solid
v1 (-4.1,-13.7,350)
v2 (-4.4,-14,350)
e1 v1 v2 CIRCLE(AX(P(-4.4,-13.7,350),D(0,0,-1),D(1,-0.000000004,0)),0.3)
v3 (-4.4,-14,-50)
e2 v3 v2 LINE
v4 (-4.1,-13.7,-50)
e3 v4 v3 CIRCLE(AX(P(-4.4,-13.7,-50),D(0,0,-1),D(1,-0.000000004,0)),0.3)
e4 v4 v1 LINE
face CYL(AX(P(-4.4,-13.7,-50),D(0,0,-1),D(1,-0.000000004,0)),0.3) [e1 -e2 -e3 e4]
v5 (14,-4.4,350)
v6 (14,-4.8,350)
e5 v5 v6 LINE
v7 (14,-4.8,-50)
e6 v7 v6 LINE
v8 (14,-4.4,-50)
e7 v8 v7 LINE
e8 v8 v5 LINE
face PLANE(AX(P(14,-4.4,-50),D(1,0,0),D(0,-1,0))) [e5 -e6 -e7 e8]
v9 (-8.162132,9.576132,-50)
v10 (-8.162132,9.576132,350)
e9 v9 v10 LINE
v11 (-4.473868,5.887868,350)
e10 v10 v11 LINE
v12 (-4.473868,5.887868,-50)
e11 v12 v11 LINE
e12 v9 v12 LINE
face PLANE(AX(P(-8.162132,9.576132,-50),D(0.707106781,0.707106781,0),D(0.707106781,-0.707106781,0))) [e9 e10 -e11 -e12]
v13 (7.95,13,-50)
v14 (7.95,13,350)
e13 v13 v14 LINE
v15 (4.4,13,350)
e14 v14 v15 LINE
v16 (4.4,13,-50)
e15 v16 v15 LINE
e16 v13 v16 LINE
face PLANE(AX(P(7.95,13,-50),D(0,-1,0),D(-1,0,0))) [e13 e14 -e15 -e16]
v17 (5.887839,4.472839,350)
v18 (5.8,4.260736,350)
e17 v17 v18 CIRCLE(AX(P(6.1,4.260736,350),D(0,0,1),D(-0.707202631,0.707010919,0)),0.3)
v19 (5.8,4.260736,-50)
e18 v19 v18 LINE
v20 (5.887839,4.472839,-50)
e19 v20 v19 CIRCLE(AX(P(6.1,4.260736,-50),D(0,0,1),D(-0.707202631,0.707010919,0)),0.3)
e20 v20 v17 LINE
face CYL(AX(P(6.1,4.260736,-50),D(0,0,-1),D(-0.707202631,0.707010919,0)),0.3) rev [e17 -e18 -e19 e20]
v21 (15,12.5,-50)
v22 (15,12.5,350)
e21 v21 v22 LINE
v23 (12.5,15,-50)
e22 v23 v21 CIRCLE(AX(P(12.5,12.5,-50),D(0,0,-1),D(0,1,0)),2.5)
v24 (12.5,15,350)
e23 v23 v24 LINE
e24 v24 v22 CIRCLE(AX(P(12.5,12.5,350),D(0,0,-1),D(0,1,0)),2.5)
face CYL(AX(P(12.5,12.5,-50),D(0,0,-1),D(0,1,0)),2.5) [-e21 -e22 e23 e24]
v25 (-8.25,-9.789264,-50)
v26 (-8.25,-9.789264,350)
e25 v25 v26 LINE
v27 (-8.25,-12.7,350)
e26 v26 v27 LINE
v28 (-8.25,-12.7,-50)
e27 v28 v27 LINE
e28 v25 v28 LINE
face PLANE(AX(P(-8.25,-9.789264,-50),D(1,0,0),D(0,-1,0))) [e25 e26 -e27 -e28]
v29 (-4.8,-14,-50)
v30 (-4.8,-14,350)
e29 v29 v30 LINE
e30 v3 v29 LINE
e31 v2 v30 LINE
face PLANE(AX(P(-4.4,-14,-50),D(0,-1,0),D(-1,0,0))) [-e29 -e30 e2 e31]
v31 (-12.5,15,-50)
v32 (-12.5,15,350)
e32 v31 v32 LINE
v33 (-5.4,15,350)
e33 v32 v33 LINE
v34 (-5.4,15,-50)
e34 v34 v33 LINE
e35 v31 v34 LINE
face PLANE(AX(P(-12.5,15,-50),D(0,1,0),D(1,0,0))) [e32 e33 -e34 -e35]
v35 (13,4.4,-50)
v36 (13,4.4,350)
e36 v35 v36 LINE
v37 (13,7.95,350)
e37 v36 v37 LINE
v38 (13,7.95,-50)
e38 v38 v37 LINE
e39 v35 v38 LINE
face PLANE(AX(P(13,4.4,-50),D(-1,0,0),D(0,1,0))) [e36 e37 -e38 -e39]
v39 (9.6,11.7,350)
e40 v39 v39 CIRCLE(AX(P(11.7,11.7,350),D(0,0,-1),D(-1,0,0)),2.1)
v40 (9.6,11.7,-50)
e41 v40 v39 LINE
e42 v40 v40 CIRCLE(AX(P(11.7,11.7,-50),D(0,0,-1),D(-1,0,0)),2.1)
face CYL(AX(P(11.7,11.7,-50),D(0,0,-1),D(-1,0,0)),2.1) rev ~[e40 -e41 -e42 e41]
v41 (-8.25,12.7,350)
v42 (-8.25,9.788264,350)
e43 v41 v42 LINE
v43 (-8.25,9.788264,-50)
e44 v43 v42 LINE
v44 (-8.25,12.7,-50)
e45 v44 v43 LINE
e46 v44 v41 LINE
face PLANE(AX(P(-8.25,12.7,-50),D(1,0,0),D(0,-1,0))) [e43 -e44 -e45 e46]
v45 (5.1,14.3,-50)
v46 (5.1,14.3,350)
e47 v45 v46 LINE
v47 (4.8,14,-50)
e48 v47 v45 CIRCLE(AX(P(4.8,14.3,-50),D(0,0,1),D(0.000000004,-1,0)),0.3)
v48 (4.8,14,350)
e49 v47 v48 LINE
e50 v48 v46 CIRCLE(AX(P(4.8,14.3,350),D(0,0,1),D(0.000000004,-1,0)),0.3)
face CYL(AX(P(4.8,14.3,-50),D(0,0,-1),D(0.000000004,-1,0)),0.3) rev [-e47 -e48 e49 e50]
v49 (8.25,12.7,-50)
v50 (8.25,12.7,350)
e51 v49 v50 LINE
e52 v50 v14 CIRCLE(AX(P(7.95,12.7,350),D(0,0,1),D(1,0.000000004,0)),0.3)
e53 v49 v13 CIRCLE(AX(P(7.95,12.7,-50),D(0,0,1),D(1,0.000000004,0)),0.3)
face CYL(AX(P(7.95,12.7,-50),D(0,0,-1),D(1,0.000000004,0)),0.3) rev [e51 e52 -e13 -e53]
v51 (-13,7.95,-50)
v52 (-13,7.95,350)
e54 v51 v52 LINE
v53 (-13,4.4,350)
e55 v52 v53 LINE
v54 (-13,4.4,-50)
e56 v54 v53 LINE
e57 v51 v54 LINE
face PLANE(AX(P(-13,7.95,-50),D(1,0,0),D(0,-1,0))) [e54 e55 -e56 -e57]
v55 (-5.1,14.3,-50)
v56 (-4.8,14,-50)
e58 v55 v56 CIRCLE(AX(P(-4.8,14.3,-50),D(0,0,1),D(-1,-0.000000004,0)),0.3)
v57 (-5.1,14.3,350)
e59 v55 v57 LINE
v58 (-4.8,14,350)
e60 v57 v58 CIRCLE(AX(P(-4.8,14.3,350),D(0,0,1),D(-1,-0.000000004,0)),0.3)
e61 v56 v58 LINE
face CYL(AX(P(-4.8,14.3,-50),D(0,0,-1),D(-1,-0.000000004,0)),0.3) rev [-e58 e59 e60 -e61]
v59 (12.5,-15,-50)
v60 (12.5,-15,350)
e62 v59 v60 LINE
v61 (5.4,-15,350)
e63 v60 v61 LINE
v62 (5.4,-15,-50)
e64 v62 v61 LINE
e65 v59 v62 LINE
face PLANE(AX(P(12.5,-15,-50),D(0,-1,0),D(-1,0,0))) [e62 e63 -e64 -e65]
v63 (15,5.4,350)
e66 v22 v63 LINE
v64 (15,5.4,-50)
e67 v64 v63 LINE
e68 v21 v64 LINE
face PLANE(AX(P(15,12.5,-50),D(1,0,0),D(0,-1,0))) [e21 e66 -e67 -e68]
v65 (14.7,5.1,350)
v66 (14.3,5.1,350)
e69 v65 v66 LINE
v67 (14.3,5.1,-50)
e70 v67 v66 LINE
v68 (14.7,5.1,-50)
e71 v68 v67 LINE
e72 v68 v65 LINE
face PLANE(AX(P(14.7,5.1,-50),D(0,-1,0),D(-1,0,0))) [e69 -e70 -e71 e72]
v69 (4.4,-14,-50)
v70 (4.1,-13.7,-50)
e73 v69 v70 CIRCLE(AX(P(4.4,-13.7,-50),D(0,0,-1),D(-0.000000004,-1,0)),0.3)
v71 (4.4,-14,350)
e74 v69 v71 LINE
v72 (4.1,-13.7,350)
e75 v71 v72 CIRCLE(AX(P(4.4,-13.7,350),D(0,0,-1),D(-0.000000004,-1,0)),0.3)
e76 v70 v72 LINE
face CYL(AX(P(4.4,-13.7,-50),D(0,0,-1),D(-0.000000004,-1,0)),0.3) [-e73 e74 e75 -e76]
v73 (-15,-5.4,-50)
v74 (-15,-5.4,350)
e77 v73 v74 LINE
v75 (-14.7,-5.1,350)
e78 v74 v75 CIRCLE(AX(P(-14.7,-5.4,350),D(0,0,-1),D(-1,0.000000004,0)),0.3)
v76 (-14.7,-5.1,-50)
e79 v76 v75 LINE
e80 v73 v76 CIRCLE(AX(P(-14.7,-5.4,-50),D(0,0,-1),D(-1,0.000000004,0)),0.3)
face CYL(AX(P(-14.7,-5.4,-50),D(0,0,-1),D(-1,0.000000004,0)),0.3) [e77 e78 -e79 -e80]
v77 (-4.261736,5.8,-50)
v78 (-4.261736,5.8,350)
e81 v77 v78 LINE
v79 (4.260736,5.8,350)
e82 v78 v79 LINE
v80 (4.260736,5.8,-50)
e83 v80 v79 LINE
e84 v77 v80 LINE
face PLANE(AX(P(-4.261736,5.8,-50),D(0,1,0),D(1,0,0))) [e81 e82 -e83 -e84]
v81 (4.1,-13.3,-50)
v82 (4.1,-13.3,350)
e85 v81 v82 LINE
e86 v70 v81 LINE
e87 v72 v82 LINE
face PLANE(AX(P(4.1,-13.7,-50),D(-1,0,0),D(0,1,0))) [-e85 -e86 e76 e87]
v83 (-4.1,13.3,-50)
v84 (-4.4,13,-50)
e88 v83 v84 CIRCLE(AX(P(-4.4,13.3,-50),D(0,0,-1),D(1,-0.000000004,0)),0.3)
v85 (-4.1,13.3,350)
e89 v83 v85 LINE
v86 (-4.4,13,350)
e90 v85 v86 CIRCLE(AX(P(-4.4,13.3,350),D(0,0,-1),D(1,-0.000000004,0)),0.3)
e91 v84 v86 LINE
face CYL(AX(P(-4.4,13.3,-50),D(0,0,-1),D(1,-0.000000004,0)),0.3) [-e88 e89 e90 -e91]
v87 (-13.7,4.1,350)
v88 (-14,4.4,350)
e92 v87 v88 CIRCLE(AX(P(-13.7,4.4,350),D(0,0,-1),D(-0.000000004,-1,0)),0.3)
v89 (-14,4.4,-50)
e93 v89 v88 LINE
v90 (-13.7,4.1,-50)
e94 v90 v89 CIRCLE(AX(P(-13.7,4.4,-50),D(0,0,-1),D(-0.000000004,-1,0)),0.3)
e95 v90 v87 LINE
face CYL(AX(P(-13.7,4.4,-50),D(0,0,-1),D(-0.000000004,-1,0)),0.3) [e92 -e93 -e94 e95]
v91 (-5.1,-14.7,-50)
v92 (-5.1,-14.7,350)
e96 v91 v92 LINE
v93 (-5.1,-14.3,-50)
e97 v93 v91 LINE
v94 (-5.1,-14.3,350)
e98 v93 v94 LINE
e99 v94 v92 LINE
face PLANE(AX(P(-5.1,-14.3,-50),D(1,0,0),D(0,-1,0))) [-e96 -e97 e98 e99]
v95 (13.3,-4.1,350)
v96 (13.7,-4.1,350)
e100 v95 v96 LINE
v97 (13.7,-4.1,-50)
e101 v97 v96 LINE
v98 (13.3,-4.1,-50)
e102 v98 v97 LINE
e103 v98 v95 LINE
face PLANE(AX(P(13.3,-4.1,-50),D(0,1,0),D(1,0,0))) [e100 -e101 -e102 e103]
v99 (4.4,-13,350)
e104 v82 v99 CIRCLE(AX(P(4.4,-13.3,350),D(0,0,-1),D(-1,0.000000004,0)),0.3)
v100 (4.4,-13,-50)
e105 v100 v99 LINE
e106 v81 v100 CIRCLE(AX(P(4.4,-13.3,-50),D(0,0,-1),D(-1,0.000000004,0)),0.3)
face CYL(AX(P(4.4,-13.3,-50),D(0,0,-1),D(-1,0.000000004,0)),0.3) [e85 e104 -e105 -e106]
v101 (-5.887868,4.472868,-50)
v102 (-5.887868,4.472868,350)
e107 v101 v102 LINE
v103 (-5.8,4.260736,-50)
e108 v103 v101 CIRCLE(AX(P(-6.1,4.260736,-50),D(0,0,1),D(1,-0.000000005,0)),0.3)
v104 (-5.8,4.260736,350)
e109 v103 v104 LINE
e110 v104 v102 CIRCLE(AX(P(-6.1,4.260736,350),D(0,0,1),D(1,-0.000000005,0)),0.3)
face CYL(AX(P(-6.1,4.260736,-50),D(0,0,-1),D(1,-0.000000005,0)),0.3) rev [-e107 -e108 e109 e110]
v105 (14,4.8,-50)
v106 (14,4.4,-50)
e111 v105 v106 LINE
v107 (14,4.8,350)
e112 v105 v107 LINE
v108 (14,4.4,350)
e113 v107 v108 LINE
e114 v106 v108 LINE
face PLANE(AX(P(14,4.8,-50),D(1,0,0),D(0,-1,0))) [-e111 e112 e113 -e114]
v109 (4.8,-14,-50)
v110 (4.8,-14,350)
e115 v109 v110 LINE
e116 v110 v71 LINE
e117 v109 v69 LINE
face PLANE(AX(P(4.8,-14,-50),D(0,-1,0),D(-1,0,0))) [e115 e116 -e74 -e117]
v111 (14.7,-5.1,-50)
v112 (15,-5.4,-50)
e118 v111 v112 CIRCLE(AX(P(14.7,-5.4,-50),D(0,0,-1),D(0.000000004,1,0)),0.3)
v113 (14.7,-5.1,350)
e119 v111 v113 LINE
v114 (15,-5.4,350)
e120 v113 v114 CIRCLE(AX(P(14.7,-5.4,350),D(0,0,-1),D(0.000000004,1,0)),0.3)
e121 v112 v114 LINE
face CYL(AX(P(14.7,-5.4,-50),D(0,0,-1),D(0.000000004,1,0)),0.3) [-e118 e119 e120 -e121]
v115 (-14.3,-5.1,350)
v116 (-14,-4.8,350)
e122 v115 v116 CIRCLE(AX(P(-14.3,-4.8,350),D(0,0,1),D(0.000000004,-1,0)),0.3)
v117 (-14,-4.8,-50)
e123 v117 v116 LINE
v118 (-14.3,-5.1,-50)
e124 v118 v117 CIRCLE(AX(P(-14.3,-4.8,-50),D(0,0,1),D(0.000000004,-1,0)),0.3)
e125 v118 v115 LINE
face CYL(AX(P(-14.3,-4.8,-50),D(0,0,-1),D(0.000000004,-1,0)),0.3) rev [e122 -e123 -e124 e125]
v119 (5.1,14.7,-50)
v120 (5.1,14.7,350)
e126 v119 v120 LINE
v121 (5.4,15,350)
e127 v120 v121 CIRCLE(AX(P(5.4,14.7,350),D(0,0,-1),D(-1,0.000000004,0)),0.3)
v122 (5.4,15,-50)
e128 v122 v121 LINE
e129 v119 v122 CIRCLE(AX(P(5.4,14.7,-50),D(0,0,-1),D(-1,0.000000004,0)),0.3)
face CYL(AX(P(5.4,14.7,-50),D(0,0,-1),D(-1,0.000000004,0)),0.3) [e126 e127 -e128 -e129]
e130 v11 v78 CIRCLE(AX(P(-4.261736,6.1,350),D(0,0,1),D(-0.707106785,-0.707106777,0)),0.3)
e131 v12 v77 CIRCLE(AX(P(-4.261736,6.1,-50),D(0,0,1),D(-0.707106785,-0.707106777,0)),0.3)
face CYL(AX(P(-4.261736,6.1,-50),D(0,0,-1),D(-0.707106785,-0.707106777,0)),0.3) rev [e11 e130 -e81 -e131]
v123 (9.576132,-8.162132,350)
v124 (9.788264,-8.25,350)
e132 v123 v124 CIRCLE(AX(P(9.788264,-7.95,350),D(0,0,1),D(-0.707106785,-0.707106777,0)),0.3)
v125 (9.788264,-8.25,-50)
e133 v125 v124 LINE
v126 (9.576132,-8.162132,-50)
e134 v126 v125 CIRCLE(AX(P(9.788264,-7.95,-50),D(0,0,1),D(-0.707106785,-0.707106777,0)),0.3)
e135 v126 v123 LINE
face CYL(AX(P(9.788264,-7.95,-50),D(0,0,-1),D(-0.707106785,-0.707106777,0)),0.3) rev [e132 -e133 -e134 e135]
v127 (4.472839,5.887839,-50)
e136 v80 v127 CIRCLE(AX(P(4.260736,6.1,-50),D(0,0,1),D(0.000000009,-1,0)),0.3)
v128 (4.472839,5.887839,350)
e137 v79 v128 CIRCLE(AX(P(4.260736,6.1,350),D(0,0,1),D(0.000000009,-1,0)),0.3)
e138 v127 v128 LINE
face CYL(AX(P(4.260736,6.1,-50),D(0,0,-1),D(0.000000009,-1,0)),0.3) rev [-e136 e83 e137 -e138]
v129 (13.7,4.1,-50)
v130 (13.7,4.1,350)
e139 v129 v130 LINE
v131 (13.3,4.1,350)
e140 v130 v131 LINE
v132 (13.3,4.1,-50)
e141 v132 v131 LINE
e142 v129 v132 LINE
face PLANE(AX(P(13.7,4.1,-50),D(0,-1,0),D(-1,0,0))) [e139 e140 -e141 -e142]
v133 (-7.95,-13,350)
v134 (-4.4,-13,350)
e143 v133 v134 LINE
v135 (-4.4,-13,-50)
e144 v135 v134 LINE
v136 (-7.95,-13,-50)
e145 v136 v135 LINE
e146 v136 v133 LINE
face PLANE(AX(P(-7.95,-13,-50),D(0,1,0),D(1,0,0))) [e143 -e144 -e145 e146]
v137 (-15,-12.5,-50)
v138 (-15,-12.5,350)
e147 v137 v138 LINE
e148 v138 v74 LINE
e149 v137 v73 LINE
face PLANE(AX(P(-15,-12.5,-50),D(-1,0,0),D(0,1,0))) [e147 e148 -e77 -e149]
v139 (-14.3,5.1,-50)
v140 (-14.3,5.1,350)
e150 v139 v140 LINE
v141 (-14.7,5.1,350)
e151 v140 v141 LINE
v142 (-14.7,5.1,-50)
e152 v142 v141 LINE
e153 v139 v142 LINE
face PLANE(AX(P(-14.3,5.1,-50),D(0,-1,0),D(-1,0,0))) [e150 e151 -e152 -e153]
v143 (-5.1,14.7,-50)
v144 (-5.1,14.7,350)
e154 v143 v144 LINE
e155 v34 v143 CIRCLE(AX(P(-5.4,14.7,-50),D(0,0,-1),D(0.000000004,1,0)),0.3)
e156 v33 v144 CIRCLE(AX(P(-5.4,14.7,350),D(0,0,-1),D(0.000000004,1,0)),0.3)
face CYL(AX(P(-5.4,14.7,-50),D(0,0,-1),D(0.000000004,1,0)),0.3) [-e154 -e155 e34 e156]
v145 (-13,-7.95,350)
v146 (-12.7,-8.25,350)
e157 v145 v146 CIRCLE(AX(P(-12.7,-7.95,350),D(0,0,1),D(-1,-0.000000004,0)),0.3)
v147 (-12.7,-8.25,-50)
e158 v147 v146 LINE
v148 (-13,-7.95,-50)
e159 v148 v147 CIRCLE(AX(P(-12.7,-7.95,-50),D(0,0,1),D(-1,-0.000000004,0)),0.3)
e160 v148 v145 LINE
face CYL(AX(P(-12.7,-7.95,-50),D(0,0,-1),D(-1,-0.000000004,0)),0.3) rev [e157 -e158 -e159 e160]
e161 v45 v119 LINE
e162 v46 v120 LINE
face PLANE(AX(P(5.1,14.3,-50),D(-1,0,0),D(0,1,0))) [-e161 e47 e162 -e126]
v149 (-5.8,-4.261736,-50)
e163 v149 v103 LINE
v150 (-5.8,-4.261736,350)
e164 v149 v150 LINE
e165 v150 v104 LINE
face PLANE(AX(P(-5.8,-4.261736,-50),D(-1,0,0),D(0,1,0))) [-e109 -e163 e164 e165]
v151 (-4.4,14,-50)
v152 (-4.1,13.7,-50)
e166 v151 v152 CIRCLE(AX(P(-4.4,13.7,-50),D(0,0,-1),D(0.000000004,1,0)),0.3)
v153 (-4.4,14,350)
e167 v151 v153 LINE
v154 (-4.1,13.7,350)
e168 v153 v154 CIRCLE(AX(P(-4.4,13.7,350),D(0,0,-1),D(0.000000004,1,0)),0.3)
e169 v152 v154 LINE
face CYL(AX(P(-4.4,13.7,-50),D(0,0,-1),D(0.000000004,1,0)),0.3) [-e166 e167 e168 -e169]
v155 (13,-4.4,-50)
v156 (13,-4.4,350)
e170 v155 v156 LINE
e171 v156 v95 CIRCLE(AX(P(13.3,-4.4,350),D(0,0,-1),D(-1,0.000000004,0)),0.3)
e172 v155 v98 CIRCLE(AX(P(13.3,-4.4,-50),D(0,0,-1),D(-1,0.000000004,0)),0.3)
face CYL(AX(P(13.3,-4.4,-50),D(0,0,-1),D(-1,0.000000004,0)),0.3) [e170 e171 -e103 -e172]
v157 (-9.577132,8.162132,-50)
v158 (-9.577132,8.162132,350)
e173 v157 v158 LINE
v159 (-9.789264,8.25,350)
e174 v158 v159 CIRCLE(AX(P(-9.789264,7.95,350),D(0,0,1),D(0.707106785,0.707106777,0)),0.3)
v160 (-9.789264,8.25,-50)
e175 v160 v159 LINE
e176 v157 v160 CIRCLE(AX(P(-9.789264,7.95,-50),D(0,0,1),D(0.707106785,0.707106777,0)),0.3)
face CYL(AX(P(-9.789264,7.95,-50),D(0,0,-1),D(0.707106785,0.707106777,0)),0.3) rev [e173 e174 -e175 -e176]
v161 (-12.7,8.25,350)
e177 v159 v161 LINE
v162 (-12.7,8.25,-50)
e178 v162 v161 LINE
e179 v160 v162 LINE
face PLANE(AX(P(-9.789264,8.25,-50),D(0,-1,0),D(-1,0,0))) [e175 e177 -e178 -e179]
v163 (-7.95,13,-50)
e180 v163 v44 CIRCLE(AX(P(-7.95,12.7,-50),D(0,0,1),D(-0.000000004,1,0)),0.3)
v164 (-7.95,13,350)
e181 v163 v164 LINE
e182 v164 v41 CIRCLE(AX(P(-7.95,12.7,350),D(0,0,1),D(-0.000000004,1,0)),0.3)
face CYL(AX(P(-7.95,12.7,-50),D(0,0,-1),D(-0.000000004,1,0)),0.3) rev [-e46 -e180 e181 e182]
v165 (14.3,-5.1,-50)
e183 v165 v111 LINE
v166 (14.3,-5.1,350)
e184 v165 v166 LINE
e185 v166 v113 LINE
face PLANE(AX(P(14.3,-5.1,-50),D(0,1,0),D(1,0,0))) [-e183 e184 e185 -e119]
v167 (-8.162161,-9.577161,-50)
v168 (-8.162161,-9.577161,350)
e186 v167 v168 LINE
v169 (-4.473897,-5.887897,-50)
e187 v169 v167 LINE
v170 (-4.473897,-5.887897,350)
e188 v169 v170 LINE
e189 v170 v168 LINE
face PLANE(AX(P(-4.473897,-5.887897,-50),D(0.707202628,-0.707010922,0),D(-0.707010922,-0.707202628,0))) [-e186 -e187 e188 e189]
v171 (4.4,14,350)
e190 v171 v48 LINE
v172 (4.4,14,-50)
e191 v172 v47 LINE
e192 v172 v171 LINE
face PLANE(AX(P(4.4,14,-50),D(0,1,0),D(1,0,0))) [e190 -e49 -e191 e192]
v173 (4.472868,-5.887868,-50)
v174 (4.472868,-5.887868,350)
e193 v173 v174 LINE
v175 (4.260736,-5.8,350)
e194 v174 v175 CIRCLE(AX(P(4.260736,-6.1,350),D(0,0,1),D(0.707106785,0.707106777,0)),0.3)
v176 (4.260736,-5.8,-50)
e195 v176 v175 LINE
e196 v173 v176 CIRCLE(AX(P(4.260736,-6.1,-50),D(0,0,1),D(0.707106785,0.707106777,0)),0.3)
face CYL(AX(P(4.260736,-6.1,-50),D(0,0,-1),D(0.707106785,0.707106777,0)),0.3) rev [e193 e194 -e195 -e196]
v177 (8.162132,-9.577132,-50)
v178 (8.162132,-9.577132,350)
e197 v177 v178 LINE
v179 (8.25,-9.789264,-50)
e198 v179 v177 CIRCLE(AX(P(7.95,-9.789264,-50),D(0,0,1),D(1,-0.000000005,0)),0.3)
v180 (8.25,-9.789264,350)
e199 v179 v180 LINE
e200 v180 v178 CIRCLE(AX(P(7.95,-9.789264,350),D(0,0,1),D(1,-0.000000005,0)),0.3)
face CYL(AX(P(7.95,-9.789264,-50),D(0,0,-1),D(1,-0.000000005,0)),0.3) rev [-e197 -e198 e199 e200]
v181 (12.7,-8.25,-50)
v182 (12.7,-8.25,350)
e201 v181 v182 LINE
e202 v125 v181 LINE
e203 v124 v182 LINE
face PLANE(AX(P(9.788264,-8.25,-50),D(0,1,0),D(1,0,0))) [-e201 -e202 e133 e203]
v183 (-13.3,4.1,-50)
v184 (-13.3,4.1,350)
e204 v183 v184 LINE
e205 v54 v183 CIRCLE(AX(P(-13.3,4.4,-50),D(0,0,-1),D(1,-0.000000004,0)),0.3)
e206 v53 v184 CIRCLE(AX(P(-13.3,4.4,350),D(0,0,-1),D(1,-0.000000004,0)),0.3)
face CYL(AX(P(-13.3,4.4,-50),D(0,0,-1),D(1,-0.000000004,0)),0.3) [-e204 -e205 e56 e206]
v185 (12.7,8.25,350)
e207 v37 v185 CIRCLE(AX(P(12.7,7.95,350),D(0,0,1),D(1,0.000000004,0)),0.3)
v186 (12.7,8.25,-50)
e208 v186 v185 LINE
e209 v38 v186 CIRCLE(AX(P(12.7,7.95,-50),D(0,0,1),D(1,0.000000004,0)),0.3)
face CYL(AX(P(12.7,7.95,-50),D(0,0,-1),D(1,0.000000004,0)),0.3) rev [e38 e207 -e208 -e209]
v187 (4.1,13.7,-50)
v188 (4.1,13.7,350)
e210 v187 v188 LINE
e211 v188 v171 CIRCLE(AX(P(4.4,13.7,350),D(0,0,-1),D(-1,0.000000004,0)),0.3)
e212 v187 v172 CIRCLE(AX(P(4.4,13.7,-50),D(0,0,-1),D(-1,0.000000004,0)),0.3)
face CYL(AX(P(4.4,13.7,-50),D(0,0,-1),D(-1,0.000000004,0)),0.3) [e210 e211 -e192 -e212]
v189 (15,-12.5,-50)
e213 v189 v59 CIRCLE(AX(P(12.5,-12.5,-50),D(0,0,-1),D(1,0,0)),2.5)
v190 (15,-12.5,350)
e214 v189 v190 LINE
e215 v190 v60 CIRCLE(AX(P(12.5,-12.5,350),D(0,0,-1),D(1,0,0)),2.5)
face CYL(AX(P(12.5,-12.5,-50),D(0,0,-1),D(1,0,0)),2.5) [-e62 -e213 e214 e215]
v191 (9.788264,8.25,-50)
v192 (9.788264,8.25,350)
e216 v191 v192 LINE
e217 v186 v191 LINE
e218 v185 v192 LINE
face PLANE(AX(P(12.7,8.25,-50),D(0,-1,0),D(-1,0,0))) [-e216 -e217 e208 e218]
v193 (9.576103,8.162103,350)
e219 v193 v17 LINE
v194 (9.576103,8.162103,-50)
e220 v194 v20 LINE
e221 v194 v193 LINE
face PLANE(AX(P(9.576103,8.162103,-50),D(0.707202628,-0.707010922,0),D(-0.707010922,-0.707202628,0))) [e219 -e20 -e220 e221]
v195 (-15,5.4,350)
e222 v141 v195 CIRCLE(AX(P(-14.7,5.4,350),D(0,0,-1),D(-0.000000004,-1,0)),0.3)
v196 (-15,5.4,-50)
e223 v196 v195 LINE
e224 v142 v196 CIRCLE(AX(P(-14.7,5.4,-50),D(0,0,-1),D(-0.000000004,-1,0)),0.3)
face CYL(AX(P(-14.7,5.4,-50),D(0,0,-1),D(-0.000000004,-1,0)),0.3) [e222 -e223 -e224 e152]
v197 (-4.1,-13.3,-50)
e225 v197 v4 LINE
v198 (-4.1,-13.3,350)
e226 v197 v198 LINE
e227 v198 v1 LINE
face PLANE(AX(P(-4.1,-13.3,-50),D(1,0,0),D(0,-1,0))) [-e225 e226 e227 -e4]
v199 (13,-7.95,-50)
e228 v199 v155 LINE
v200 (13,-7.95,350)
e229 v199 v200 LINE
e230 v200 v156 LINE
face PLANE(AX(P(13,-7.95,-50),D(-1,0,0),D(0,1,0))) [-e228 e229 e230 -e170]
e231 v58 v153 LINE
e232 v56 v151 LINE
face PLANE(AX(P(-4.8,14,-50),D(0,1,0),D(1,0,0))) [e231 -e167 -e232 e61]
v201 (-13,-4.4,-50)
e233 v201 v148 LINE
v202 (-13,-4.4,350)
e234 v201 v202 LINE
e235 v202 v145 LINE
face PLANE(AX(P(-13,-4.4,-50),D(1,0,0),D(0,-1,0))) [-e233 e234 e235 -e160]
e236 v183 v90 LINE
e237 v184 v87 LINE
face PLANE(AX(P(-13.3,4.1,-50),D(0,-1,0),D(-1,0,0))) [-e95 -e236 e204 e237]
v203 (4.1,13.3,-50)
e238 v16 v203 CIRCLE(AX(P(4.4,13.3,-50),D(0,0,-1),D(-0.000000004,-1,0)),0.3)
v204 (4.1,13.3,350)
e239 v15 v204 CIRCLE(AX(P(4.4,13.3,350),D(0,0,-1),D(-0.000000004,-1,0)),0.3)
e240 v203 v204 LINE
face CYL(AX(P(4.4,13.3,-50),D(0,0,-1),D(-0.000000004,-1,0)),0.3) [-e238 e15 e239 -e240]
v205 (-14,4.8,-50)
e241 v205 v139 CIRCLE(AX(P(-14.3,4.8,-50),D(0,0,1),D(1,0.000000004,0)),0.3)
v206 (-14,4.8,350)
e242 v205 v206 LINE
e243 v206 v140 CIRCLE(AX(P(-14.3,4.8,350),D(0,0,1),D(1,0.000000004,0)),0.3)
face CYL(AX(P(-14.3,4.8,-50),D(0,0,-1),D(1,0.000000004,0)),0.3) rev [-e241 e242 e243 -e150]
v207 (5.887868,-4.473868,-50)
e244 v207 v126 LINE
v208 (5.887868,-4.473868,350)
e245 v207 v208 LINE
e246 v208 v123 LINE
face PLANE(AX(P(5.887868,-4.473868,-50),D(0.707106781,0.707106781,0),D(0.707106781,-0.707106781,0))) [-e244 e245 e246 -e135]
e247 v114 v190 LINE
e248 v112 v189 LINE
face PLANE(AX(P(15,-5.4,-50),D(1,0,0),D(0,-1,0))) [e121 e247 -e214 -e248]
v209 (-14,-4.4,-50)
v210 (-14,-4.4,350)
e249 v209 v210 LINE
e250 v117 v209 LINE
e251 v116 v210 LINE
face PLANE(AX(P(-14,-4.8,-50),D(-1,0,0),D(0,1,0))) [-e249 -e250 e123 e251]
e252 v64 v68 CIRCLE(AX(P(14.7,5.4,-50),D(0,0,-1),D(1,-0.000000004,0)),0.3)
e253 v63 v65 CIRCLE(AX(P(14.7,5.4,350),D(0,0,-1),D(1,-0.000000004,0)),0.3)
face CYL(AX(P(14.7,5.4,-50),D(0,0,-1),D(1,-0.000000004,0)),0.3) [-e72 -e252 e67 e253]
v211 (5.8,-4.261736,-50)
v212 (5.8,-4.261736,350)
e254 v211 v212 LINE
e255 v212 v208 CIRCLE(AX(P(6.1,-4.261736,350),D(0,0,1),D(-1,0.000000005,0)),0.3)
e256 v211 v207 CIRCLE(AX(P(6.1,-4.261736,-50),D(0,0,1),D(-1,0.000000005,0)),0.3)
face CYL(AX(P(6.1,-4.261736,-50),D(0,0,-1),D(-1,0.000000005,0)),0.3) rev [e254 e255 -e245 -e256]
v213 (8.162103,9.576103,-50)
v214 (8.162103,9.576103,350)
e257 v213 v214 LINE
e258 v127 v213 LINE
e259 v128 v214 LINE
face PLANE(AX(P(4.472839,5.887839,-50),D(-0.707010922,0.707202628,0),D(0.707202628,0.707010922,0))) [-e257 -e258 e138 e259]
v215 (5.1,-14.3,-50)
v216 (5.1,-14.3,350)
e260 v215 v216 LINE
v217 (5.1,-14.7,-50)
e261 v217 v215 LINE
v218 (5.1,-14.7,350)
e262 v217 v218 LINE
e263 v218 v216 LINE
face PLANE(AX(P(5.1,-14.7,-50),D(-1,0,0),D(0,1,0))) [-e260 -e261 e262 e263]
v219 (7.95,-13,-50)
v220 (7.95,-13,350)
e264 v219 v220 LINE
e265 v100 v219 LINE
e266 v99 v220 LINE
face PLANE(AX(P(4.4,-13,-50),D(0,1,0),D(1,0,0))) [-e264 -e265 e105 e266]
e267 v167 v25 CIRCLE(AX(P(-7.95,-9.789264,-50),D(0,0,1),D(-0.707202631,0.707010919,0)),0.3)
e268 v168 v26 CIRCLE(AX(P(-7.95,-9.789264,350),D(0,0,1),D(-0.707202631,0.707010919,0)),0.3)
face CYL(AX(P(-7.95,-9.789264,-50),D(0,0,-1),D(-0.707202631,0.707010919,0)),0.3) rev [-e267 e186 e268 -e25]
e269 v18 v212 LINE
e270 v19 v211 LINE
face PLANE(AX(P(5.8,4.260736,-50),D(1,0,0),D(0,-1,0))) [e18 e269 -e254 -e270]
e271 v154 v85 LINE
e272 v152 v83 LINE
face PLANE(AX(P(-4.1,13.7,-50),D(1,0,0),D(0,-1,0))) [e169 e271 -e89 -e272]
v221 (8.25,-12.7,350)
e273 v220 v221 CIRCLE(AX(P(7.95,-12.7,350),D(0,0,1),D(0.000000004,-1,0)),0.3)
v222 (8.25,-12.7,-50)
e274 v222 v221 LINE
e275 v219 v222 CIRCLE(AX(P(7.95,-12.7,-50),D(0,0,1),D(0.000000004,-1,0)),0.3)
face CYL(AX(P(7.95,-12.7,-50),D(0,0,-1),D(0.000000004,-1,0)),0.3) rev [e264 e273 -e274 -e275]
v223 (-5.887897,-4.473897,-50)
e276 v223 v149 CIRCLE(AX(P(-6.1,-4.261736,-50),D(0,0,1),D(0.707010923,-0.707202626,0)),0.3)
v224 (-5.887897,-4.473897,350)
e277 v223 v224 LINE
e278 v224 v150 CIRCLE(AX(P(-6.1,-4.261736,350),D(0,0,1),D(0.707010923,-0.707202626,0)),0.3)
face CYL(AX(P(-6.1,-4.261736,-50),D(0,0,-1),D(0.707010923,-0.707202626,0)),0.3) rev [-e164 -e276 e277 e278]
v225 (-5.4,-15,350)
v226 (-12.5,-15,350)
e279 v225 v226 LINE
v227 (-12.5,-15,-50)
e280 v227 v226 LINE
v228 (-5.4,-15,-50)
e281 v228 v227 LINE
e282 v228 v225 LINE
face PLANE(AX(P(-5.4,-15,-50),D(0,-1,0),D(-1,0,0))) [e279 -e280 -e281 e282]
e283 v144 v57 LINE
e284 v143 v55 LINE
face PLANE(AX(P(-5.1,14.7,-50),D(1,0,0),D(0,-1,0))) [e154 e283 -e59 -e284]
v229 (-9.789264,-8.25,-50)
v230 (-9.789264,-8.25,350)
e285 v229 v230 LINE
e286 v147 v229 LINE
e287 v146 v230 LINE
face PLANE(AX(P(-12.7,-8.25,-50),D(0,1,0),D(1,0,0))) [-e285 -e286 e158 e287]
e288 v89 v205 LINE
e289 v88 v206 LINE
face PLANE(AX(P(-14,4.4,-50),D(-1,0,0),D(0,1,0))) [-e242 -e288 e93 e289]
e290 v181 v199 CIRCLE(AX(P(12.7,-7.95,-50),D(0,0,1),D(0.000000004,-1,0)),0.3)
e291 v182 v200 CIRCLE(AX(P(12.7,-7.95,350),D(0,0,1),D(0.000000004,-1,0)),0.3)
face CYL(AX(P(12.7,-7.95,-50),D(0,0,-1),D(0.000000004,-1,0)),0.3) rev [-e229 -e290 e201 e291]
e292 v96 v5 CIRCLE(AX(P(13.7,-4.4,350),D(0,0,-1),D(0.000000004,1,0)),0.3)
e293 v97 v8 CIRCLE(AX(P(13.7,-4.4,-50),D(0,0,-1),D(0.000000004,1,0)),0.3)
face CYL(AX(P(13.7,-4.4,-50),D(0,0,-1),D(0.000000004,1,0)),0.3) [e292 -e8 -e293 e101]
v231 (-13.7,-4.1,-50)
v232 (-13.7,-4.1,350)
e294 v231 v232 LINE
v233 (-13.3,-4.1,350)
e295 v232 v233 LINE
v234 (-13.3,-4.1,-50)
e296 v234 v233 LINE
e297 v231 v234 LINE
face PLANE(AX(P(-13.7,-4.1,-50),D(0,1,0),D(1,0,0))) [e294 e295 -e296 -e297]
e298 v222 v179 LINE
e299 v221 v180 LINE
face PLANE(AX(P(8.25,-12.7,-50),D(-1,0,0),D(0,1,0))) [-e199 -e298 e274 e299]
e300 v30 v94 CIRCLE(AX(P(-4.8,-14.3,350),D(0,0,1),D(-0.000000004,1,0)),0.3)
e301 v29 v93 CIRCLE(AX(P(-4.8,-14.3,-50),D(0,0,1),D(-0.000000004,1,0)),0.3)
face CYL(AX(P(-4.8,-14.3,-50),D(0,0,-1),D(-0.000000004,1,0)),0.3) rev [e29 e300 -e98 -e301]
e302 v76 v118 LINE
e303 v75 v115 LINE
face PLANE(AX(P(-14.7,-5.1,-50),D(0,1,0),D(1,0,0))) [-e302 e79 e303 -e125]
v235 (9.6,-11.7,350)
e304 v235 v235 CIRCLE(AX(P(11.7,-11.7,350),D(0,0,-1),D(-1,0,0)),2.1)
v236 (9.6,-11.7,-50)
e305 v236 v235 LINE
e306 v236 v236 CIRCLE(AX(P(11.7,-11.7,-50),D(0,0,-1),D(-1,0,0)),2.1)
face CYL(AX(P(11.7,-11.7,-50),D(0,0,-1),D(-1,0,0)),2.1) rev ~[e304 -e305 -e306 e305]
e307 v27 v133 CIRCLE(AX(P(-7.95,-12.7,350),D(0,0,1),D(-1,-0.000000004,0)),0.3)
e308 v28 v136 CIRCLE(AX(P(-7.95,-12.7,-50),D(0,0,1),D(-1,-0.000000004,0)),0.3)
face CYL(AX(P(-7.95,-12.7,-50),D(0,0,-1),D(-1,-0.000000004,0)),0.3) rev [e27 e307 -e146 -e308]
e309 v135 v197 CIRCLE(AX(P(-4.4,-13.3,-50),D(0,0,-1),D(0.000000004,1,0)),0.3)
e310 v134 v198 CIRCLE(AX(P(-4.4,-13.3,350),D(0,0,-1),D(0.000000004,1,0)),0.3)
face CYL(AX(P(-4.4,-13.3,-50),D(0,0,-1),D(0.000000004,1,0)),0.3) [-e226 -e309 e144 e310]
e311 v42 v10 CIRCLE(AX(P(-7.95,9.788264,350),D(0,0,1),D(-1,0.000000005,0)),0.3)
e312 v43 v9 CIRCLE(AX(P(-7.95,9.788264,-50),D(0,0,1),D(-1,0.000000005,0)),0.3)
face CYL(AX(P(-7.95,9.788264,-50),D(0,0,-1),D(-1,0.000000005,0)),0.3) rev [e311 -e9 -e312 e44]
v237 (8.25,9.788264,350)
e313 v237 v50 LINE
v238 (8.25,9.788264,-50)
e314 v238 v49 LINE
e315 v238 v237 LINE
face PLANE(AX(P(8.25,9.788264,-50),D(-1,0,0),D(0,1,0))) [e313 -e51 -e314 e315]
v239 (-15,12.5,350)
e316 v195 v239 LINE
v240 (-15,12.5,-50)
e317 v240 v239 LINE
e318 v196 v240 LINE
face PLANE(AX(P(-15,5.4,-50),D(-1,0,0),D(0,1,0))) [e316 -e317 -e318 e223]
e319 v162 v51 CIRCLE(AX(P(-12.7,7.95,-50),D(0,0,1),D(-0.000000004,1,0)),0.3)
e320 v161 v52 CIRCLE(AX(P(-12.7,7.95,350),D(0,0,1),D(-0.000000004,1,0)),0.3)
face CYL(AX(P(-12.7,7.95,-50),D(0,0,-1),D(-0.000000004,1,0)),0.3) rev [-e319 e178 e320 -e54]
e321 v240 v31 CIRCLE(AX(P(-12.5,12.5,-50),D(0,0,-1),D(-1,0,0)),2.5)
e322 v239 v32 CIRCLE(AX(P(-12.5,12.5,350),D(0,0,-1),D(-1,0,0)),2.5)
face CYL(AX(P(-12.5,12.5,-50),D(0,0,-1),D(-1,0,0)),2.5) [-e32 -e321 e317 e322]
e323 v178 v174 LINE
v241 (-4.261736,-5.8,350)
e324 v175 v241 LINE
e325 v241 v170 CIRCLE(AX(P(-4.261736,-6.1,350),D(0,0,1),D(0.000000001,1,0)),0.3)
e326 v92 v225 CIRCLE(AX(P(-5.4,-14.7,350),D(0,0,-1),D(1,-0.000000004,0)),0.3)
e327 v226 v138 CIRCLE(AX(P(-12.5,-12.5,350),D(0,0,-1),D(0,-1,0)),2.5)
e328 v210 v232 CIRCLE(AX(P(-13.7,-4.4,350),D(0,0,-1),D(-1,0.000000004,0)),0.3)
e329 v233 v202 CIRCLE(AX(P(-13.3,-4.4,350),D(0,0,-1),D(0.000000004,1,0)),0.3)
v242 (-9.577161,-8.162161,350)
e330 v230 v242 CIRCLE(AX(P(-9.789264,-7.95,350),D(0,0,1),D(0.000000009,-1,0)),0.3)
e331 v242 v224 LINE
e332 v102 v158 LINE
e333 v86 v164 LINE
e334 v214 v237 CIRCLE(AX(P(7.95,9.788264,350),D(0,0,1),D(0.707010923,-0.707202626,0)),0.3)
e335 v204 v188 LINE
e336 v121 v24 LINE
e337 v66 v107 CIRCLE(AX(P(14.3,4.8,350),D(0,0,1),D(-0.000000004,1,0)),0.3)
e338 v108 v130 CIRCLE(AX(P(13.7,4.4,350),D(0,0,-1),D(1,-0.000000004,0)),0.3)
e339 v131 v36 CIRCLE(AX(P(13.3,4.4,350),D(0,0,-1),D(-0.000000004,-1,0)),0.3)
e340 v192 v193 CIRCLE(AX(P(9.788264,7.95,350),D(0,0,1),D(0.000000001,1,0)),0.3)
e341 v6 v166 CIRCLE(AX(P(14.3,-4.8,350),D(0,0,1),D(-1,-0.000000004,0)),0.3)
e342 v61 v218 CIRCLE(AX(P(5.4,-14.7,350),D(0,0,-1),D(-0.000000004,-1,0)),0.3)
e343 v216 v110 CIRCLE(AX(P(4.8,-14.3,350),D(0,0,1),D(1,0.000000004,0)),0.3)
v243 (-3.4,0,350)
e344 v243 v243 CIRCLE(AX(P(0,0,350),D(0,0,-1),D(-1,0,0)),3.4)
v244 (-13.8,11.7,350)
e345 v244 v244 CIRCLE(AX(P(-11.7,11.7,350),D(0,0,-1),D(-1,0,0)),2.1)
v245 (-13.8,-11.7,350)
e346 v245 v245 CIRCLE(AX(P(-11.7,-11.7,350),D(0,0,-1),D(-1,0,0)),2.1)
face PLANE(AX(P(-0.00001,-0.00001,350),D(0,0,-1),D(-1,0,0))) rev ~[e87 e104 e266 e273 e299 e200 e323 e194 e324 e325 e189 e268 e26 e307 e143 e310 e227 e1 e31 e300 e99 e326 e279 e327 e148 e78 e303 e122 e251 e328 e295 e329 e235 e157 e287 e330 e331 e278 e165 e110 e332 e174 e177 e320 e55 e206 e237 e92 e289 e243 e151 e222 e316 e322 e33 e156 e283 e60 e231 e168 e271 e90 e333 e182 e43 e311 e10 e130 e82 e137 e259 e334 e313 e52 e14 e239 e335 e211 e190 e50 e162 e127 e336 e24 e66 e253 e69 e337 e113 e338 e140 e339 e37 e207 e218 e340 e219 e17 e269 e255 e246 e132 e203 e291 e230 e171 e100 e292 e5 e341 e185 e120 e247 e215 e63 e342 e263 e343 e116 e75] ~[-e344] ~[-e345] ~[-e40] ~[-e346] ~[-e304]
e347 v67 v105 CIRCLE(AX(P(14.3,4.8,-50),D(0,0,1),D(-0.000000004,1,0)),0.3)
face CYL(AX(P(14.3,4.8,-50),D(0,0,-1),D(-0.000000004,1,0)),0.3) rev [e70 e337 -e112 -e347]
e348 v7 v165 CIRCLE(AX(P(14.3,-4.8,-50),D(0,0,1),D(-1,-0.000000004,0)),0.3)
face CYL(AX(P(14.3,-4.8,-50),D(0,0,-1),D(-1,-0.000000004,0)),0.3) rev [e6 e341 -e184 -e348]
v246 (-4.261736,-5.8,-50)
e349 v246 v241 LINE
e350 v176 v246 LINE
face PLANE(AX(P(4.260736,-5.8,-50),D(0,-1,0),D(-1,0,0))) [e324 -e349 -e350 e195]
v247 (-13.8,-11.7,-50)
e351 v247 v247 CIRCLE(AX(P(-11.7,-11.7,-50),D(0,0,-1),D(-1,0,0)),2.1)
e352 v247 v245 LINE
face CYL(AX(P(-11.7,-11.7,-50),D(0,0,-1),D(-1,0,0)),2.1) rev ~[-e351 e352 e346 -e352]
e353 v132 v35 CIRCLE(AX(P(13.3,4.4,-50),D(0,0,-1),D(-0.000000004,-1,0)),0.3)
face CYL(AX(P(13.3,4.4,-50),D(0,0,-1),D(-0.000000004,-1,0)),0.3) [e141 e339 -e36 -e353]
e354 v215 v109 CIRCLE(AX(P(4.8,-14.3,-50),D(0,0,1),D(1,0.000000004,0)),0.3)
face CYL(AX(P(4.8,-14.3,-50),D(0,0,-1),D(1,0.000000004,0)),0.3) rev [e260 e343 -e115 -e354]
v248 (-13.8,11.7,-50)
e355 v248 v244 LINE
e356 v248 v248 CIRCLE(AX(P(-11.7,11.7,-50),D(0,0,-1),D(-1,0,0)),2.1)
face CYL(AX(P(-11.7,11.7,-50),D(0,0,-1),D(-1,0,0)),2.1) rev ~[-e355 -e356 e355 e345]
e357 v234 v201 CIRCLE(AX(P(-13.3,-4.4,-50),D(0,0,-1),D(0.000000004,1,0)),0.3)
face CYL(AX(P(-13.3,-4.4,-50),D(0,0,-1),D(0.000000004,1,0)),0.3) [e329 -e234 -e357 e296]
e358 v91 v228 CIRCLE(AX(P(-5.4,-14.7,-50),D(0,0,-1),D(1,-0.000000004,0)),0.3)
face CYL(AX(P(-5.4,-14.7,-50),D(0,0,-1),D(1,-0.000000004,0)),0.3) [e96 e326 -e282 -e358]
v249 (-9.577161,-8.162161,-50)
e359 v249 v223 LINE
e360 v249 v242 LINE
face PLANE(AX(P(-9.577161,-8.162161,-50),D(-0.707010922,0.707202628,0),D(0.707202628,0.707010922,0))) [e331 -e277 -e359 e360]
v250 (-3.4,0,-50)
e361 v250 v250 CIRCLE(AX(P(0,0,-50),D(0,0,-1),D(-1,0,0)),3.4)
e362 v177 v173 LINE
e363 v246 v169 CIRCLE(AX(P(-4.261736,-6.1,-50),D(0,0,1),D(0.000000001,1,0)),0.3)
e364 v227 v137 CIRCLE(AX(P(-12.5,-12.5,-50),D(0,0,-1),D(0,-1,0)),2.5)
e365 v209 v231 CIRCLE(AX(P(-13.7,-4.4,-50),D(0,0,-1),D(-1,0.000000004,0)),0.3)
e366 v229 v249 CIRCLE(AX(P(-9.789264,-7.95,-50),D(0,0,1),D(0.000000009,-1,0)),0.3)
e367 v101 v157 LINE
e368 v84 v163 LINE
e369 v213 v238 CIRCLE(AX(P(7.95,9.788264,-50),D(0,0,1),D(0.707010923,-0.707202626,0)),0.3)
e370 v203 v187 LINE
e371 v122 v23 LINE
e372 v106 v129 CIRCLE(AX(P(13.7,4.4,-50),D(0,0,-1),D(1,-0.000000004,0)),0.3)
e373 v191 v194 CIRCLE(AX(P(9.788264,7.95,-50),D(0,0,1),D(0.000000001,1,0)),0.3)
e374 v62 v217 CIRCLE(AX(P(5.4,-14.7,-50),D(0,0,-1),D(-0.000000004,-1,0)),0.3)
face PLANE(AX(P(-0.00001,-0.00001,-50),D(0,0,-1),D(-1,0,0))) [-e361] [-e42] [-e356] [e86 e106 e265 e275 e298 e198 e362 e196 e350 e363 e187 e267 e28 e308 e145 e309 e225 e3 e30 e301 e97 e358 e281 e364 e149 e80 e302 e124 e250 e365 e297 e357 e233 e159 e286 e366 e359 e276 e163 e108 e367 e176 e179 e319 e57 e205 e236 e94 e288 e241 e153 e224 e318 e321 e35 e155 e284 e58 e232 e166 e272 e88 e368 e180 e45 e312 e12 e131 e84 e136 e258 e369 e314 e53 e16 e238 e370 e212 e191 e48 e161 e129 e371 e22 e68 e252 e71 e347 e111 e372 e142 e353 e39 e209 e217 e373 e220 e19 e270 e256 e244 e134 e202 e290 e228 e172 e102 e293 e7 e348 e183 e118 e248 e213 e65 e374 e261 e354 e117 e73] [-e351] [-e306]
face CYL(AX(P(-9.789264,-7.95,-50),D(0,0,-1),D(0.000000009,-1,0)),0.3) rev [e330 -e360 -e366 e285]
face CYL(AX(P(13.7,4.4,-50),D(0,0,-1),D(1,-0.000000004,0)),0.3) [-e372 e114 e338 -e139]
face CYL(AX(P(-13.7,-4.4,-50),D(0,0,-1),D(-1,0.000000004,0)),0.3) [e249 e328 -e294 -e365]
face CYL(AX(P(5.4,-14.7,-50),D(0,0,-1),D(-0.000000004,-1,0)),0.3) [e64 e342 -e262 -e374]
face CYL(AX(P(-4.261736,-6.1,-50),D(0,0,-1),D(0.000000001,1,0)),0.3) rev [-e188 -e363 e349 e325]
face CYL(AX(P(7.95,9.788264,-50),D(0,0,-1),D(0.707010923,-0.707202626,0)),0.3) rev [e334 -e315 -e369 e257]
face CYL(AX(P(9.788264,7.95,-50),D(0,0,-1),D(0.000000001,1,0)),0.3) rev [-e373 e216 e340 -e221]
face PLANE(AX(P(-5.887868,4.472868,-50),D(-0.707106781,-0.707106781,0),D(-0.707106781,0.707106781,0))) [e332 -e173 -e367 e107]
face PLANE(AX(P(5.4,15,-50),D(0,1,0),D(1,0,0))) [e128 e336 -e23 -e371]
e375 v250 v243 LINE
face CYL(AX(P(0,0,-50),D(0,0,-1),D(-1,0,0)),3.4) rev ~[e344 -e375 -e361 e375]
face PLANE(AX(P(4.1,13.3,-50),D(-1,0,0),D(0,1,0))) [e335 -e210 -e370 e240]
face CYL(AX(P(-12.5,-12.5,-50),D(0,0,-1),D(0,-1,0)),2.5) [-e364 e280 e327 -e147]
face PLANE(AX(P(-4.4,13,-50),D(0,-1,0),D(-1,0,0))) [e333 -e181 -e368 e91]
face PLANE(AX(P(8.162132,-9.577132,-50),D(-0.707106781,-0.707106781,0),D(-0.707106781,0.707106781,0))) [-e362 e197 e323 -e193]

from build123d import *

# Parameters (mm, degrees)
CROQUIS1_R              = 2.1
CROQUIS1_R_2            = 3.4
SALIENTE_EXTRUIR1_DEPTH = 400


with BuildPart() as part:
    # Croquis1 → Saliente-Extruir1 (new body)
    with BuildSketch(Plane(origin=(0, 0, -50), x_dir=(-1, 0, 0), z_dir=(0, 0, -1))):
        with BuildLine():
            Line((14.7, -5.1), (14.3, -5.1))
            ThreePointArc((14.3, -5.1), (14.087867966, -5.012132034), (14, -4.8))
            Line((14, -4.8), (14, -4.4))
            ThreePointArc((14, -4.4), (13.912132034, -4.187867966), (13.7, -4.1))
            Line((13.7, -4.1), (13.3, -4.1))
            ThreePointArc((13.3, -4.1), (13.087867966, -4.187867966), (13, -4.4))
            Line((13, -4.4), (13, -7.95))
            ThreePointArc((13, -7.95), (12.912132034, -8.162132034), (12.7, -8.25))
            Line((12.7, -8.25), (9.789264108, -8.25))
            ThreePointArc((9.789264108, -8.25), (9.674477865, -8.22717164), (9.577160832, -8.162160788))
            Line((9.577160832, -8.162160788), (5.887896723, -4.473896751))
            ThreePointArc((5.887896723, -4.473896751), (5.822843922, -4.376559778), (5.8, -4.261735963))
            Line((5.8, -4.261735963), (5.8, 4.260735931))
            ThreePointArc((5.8, 4.260735931), (5.82283614, 4.375540961), (5.887867966, 4.472867966))
            Line((5.887867966, 4.472867966), (9.577132034, 8.162132034))
            ThreePointArc((9.577132034, 8.162132034), (9.674459039, 8.22716386), (9.789264069, 8.25))
            Line((9.789264069, 8.25), (12.7, 8.25))
            ThreePointArc((12.7, 8.25), (12.912132034, 8.162132034), (13, 7.95))
            Line((13, 7.95), (13, 4.4))
            ThreePointArc((13, 4.4), (13.087867966, 4.187867966), (13.3, 4.1))
            Line((13.3, 4.1), (13.7, 4.1))
            ThreePointArc((13.7, 4.1), (13.912132034, 4.187867966), (14, 4.4))
            Line((14, 4.4), (14, 4.8))
            ThreePointArc((14, 4.8), (14.087867966, 5.012132034), (14.3, 5.1))
            Line((14.3, 5.1), (14.7, 5.1))
            ThreePointArc((14.7, 5.1), (14.912132034, 5.187867966), (15, 5.4))
            Line((15, 5.4), (15, 12.5))
            ThreePointArc((15, 12.5), (14.267766953, 14.267766953), (12.5, 15))
            Line((12.5, 15), (5.4, 15))
            ThreePointArc((5.4, 15), (5.187867966, 14.912132034), (5.1, 14.7))
            Line((5.1, 14.7), (5.1, 14.3))
            ThreePointArc((5.1, 14.3), (5.012132034, 14.087867966), (4.8, 14))
            Line((4.8, 14), (4.4, 14))
            ThreePointArc((4.4, 14), (4.187867966, 13.912132034), (4.1, 13.7))
            Line((4.1, 13.7), (4.1, 13.3))
            ThreePointArc((4.1, 13.3), (4.187867966, 13.087867966), (4.4, 13))
            Line((4.4, 13), (7.95, 13))
            ThreePointArc((7.95, 13), (8.162132034, 12.912132034), (8.25, 12.7))
            Line((8.25, 12.7), (8.25, 9.788264069))
            ThreePointArc((8.25, 9.788264069), (8.22716386, 9.673459039), (8.162132034, 9.576132034))
            Line((8.162132034, 9.576132034), (4.473867966, 5.887867966))
            ThreePointArc((4.473867966, 5.887867966), (4.376540961, 5.82283614), (4.261735931, 5.8))
            Line((4.261735931, 5.8), (-4.260735892, 5.8))
            ThreePointArc((-4.260735892, 5.8), (-4.375522135, 5.82282836), (-4.472839168, 5.887839212))
            Line((-4.472839168, 5.887839212), (-8.162103277, 9.576103249))
            ThreePointArc((-8.162103277, 9.576103249), (-8.227156078, 9.673440222), (-8.25, 9.788264037))
            Line((-8.25, 9.788264037), (-8.25, 12.7))
            ThreePointArc((-8.25, 12.7), (-8.162132034, 12.912132034), (-7.95, 13))
            Line((-7.95, 13), (-4.4, 13))
            ThreePointArc((-4.4, 13), (-4.187867966, 13.087867966), (-4.1, 13.3))
            Line((-4.1, 13.3), (-4.1, 13.7))
            ThreePointArc((-4.1, 13.7), (-4.187867966, 13.912132034), (-4.4, 14))
            Line((-4.4, 14), (-4.8, 14))
            ThreePointArc((-4.8, 14), (-5.012132034, 14.087867966), (-5.1, 14.3))
            Line((-5.1, 14.3), (-5.1, 14.7))
            ThreePointArc((-5.1, 14.7), (-5.187867966, 14.912132034), (-5.4, 15))
            Line((-5.4, 15), (-12.5, 15))
            ThreePointArc((-12.5, 15), (-14.267766953, 14.267766953), (-15, 12.5))
            Line((-15, 12.5), (-15, 5.4))
            ThreePointArc((-15, 5.4), (-14.912132034, 5.187867966), (-14.7, 5.1))
            Line((-14.7, 5.1), (-14.3, 5.1))
            ThreePointArc((-14.3, 5.1), (-14.087867966, 5.012132034), (-14, 4.8))
            Line((-14, 4.8), (-14, 4.4))
            ThreePointArc((-14, 4.4), (-13.912132034, 4.187867966), (-13.7, 4.1))
            Line((-13.7, 4.1), (-13.3, 4.1))
            ThreePointArc((-13.3, 4.1), (-13.087867966, 4.187867966), (-13, 4.4))
            Line((-13, 4.4), (-13, 7.95))
            ThreePointArc((-13, 7.95), (-12.912132034, 8.162132034), (-12.7, 8.25))
            Line((-12.7, 8.25), (-9.788264037, 8.25))
            ThreePointArc((-9.788264037, 8.25), (-9.673440222, 8.227156078), (-9.576103249, 8.162103277))
            Line((-9.576103249, 8.162103277), (-5.887839212, 4.472839168))
            ThreePointArc((-5.887839212, 4.472839168), (-5.82282836, 4.375522135), (-5.8, 4.260735892))
            Line((-5.8, 4.260735892), (-5.8, -4.261735931))
            ThreePointArc((-5.8, -4.261735931), (-5.82283614, -4.376540961), (-5.887867966, -4.473867966))
            Line((-5.887867966, -4.473867966), (-9.576132034, -8.162132034))
            ThreePointArc((-9.576132034, -8.162132034), (-9.673459039, -8.22716386), (-9.788264069, -8.25))
            Line((-9.788264069, -8.25), (-12.7, -8.25))
            ThreePointArc((-12.7, -8.25), (-12.912132034, -8.162132034), (-13, -7.95))
            Line((-13, -7.95), (-13, -4.4))
            ThreePointArc((-13, -4.4), (-13.087867966, -4.187867966), (-13.3, -4.1))
            Line((-13.3, -4.1), (-13.7, -4.1))
            ThreePointArc((-13.7, -4.1), (-13.912132034, -4.187867966), (-14, -4.4))
            Line((-14, -4.4), (-14, -4.8))
            ThreePointArc((-14, -4.8), (-14.087867966, -5.012132034), (-14.3, -5.1))
            Line((-14.3, -5.1), (-14.7, -5.1))
            ThreePointArc((-14.7, -5.1), (-14.912132034, -5.187867966), (-15, -5.4))
            Line((-15, -5.4), (-15, -12.5))
            ThreePointArc((-15, -12.5), (-14.267766953, -14.267766953), (-12.5, -15))
            Line((-12.5, -15), (-5.4, -15))
            ThreePointArc((-5.4, -15), (-5.187867966, -14.912132034), (-5.1, -14.7))
            Line((-5.1, -14.7), (-5.1, -14.3))
            ThreePointArc((-5.1, -14.3), (-5.012132034, -14.087867966), (-4.8, -14))
            Line((-4.8, -14), (-4.4, -14))
            ThreePointArc((-4.4, -14), (-4.187867966, -13.912132034), (-4.1, -13.7))
            Line((-4.1, -13.7), (-4.1, -13.3))
            ThreePointArc((-4.1, -13.3), (-4.187867966, -13.087867966), (-4.4, -13))
            Line((-4.4, -13), (-7.95, -13))
            ThreePointArc((-7.95, -13), (-8.162132034, -12.912132034), (-8.25, -12.7))
            Line((-8.25, -12.7), (-8.25, -9.789264069))
            ThreePointArc((-8.25, -9.789264069), (-8.22716386, -9.674459039), (-8.162132034, -9.577132034))
            Line((-8.162132034, -9.577132034), (-4.472867966, -5.887867966))
            ThreePointArc((-4.472867966, -5.887867966), (-4.375540961, -5.82283614), (-4.260735931, -5.8))
            Line((-4.260735931, -5.8), (4.261735963, -5.8))
            ThreePointArc((4.261735963, -5.8), (4.376559778, -5.822843922), (4.473896751, -5.887896723))
            Line((4.473896751, -5.887896723), (8.162160788, -9.577160832))
            ThreePointArc((8.162160788, -9.577160832), (8.22717164, -9.674477865), (8.25, -9.789264108))
            Line((8.25, -9.789264108), (8.25, -12.7))
            ThreePointArc((8.25, -12.7), (8.162132034, -12.912132034), (7.95, -13))
            Line((7.95, -13), (4.4, -13))
            ThreePointArc((4.4, -13), (4.187867966, -13.087867966), (4.1, -13.3))
            Line((4.1, -13.3), (4.1, -13.7))
            ThreePointArc((4.1, -13.7), (4.187867966, -13.912132034), (4.4, -14))
            Line((4.4, -14), (4.8, -14))
            ThreePointArc((4.8, -14), (5.012132034, -14.087867966), (5.1, -14.3))
            Line((5.1, -14.3), (5.1, -14.7))
            ThreePointArc((5.1, -14.7), (5.187867966, -14.912132034), (5.4, -15))
            Line((5.4, -15), (12.5, -15))
            ThreePointArc((12.5, -15), (14.267766953, -14.267766953), (15, -12.5))
            Line((15, -12.5), (15, -5.4))
            ThreePointArc((15, -5.4), (14.912132034, -5.187867966), (14.7, -5.1))
        make_face()
        with Locations((-11.7, 11.7)):
            Circle(CROQUIS1_R, mode=Mode.SUBTRACT)
        with Locations((-11.7, -11.7)):
            Circle(CROQUIS1_R, mode=Mode.SUBTRACT)
        Circle(CROQUIS1_R_2, mode=Mode.SUBTRACT)
        with Locations((11.7, 11.7)):
            Circle(CROQUIS1_R, mode=Mode.SUBTRACT)
        with Locations((11.7, -11.7)):
            Circle(CROQUIS1_R, mode=Mode.SUBTRACT)
    extrude(amount=-SALIENTE_EXTRUIR1_DEPTH)


solid = part.part
